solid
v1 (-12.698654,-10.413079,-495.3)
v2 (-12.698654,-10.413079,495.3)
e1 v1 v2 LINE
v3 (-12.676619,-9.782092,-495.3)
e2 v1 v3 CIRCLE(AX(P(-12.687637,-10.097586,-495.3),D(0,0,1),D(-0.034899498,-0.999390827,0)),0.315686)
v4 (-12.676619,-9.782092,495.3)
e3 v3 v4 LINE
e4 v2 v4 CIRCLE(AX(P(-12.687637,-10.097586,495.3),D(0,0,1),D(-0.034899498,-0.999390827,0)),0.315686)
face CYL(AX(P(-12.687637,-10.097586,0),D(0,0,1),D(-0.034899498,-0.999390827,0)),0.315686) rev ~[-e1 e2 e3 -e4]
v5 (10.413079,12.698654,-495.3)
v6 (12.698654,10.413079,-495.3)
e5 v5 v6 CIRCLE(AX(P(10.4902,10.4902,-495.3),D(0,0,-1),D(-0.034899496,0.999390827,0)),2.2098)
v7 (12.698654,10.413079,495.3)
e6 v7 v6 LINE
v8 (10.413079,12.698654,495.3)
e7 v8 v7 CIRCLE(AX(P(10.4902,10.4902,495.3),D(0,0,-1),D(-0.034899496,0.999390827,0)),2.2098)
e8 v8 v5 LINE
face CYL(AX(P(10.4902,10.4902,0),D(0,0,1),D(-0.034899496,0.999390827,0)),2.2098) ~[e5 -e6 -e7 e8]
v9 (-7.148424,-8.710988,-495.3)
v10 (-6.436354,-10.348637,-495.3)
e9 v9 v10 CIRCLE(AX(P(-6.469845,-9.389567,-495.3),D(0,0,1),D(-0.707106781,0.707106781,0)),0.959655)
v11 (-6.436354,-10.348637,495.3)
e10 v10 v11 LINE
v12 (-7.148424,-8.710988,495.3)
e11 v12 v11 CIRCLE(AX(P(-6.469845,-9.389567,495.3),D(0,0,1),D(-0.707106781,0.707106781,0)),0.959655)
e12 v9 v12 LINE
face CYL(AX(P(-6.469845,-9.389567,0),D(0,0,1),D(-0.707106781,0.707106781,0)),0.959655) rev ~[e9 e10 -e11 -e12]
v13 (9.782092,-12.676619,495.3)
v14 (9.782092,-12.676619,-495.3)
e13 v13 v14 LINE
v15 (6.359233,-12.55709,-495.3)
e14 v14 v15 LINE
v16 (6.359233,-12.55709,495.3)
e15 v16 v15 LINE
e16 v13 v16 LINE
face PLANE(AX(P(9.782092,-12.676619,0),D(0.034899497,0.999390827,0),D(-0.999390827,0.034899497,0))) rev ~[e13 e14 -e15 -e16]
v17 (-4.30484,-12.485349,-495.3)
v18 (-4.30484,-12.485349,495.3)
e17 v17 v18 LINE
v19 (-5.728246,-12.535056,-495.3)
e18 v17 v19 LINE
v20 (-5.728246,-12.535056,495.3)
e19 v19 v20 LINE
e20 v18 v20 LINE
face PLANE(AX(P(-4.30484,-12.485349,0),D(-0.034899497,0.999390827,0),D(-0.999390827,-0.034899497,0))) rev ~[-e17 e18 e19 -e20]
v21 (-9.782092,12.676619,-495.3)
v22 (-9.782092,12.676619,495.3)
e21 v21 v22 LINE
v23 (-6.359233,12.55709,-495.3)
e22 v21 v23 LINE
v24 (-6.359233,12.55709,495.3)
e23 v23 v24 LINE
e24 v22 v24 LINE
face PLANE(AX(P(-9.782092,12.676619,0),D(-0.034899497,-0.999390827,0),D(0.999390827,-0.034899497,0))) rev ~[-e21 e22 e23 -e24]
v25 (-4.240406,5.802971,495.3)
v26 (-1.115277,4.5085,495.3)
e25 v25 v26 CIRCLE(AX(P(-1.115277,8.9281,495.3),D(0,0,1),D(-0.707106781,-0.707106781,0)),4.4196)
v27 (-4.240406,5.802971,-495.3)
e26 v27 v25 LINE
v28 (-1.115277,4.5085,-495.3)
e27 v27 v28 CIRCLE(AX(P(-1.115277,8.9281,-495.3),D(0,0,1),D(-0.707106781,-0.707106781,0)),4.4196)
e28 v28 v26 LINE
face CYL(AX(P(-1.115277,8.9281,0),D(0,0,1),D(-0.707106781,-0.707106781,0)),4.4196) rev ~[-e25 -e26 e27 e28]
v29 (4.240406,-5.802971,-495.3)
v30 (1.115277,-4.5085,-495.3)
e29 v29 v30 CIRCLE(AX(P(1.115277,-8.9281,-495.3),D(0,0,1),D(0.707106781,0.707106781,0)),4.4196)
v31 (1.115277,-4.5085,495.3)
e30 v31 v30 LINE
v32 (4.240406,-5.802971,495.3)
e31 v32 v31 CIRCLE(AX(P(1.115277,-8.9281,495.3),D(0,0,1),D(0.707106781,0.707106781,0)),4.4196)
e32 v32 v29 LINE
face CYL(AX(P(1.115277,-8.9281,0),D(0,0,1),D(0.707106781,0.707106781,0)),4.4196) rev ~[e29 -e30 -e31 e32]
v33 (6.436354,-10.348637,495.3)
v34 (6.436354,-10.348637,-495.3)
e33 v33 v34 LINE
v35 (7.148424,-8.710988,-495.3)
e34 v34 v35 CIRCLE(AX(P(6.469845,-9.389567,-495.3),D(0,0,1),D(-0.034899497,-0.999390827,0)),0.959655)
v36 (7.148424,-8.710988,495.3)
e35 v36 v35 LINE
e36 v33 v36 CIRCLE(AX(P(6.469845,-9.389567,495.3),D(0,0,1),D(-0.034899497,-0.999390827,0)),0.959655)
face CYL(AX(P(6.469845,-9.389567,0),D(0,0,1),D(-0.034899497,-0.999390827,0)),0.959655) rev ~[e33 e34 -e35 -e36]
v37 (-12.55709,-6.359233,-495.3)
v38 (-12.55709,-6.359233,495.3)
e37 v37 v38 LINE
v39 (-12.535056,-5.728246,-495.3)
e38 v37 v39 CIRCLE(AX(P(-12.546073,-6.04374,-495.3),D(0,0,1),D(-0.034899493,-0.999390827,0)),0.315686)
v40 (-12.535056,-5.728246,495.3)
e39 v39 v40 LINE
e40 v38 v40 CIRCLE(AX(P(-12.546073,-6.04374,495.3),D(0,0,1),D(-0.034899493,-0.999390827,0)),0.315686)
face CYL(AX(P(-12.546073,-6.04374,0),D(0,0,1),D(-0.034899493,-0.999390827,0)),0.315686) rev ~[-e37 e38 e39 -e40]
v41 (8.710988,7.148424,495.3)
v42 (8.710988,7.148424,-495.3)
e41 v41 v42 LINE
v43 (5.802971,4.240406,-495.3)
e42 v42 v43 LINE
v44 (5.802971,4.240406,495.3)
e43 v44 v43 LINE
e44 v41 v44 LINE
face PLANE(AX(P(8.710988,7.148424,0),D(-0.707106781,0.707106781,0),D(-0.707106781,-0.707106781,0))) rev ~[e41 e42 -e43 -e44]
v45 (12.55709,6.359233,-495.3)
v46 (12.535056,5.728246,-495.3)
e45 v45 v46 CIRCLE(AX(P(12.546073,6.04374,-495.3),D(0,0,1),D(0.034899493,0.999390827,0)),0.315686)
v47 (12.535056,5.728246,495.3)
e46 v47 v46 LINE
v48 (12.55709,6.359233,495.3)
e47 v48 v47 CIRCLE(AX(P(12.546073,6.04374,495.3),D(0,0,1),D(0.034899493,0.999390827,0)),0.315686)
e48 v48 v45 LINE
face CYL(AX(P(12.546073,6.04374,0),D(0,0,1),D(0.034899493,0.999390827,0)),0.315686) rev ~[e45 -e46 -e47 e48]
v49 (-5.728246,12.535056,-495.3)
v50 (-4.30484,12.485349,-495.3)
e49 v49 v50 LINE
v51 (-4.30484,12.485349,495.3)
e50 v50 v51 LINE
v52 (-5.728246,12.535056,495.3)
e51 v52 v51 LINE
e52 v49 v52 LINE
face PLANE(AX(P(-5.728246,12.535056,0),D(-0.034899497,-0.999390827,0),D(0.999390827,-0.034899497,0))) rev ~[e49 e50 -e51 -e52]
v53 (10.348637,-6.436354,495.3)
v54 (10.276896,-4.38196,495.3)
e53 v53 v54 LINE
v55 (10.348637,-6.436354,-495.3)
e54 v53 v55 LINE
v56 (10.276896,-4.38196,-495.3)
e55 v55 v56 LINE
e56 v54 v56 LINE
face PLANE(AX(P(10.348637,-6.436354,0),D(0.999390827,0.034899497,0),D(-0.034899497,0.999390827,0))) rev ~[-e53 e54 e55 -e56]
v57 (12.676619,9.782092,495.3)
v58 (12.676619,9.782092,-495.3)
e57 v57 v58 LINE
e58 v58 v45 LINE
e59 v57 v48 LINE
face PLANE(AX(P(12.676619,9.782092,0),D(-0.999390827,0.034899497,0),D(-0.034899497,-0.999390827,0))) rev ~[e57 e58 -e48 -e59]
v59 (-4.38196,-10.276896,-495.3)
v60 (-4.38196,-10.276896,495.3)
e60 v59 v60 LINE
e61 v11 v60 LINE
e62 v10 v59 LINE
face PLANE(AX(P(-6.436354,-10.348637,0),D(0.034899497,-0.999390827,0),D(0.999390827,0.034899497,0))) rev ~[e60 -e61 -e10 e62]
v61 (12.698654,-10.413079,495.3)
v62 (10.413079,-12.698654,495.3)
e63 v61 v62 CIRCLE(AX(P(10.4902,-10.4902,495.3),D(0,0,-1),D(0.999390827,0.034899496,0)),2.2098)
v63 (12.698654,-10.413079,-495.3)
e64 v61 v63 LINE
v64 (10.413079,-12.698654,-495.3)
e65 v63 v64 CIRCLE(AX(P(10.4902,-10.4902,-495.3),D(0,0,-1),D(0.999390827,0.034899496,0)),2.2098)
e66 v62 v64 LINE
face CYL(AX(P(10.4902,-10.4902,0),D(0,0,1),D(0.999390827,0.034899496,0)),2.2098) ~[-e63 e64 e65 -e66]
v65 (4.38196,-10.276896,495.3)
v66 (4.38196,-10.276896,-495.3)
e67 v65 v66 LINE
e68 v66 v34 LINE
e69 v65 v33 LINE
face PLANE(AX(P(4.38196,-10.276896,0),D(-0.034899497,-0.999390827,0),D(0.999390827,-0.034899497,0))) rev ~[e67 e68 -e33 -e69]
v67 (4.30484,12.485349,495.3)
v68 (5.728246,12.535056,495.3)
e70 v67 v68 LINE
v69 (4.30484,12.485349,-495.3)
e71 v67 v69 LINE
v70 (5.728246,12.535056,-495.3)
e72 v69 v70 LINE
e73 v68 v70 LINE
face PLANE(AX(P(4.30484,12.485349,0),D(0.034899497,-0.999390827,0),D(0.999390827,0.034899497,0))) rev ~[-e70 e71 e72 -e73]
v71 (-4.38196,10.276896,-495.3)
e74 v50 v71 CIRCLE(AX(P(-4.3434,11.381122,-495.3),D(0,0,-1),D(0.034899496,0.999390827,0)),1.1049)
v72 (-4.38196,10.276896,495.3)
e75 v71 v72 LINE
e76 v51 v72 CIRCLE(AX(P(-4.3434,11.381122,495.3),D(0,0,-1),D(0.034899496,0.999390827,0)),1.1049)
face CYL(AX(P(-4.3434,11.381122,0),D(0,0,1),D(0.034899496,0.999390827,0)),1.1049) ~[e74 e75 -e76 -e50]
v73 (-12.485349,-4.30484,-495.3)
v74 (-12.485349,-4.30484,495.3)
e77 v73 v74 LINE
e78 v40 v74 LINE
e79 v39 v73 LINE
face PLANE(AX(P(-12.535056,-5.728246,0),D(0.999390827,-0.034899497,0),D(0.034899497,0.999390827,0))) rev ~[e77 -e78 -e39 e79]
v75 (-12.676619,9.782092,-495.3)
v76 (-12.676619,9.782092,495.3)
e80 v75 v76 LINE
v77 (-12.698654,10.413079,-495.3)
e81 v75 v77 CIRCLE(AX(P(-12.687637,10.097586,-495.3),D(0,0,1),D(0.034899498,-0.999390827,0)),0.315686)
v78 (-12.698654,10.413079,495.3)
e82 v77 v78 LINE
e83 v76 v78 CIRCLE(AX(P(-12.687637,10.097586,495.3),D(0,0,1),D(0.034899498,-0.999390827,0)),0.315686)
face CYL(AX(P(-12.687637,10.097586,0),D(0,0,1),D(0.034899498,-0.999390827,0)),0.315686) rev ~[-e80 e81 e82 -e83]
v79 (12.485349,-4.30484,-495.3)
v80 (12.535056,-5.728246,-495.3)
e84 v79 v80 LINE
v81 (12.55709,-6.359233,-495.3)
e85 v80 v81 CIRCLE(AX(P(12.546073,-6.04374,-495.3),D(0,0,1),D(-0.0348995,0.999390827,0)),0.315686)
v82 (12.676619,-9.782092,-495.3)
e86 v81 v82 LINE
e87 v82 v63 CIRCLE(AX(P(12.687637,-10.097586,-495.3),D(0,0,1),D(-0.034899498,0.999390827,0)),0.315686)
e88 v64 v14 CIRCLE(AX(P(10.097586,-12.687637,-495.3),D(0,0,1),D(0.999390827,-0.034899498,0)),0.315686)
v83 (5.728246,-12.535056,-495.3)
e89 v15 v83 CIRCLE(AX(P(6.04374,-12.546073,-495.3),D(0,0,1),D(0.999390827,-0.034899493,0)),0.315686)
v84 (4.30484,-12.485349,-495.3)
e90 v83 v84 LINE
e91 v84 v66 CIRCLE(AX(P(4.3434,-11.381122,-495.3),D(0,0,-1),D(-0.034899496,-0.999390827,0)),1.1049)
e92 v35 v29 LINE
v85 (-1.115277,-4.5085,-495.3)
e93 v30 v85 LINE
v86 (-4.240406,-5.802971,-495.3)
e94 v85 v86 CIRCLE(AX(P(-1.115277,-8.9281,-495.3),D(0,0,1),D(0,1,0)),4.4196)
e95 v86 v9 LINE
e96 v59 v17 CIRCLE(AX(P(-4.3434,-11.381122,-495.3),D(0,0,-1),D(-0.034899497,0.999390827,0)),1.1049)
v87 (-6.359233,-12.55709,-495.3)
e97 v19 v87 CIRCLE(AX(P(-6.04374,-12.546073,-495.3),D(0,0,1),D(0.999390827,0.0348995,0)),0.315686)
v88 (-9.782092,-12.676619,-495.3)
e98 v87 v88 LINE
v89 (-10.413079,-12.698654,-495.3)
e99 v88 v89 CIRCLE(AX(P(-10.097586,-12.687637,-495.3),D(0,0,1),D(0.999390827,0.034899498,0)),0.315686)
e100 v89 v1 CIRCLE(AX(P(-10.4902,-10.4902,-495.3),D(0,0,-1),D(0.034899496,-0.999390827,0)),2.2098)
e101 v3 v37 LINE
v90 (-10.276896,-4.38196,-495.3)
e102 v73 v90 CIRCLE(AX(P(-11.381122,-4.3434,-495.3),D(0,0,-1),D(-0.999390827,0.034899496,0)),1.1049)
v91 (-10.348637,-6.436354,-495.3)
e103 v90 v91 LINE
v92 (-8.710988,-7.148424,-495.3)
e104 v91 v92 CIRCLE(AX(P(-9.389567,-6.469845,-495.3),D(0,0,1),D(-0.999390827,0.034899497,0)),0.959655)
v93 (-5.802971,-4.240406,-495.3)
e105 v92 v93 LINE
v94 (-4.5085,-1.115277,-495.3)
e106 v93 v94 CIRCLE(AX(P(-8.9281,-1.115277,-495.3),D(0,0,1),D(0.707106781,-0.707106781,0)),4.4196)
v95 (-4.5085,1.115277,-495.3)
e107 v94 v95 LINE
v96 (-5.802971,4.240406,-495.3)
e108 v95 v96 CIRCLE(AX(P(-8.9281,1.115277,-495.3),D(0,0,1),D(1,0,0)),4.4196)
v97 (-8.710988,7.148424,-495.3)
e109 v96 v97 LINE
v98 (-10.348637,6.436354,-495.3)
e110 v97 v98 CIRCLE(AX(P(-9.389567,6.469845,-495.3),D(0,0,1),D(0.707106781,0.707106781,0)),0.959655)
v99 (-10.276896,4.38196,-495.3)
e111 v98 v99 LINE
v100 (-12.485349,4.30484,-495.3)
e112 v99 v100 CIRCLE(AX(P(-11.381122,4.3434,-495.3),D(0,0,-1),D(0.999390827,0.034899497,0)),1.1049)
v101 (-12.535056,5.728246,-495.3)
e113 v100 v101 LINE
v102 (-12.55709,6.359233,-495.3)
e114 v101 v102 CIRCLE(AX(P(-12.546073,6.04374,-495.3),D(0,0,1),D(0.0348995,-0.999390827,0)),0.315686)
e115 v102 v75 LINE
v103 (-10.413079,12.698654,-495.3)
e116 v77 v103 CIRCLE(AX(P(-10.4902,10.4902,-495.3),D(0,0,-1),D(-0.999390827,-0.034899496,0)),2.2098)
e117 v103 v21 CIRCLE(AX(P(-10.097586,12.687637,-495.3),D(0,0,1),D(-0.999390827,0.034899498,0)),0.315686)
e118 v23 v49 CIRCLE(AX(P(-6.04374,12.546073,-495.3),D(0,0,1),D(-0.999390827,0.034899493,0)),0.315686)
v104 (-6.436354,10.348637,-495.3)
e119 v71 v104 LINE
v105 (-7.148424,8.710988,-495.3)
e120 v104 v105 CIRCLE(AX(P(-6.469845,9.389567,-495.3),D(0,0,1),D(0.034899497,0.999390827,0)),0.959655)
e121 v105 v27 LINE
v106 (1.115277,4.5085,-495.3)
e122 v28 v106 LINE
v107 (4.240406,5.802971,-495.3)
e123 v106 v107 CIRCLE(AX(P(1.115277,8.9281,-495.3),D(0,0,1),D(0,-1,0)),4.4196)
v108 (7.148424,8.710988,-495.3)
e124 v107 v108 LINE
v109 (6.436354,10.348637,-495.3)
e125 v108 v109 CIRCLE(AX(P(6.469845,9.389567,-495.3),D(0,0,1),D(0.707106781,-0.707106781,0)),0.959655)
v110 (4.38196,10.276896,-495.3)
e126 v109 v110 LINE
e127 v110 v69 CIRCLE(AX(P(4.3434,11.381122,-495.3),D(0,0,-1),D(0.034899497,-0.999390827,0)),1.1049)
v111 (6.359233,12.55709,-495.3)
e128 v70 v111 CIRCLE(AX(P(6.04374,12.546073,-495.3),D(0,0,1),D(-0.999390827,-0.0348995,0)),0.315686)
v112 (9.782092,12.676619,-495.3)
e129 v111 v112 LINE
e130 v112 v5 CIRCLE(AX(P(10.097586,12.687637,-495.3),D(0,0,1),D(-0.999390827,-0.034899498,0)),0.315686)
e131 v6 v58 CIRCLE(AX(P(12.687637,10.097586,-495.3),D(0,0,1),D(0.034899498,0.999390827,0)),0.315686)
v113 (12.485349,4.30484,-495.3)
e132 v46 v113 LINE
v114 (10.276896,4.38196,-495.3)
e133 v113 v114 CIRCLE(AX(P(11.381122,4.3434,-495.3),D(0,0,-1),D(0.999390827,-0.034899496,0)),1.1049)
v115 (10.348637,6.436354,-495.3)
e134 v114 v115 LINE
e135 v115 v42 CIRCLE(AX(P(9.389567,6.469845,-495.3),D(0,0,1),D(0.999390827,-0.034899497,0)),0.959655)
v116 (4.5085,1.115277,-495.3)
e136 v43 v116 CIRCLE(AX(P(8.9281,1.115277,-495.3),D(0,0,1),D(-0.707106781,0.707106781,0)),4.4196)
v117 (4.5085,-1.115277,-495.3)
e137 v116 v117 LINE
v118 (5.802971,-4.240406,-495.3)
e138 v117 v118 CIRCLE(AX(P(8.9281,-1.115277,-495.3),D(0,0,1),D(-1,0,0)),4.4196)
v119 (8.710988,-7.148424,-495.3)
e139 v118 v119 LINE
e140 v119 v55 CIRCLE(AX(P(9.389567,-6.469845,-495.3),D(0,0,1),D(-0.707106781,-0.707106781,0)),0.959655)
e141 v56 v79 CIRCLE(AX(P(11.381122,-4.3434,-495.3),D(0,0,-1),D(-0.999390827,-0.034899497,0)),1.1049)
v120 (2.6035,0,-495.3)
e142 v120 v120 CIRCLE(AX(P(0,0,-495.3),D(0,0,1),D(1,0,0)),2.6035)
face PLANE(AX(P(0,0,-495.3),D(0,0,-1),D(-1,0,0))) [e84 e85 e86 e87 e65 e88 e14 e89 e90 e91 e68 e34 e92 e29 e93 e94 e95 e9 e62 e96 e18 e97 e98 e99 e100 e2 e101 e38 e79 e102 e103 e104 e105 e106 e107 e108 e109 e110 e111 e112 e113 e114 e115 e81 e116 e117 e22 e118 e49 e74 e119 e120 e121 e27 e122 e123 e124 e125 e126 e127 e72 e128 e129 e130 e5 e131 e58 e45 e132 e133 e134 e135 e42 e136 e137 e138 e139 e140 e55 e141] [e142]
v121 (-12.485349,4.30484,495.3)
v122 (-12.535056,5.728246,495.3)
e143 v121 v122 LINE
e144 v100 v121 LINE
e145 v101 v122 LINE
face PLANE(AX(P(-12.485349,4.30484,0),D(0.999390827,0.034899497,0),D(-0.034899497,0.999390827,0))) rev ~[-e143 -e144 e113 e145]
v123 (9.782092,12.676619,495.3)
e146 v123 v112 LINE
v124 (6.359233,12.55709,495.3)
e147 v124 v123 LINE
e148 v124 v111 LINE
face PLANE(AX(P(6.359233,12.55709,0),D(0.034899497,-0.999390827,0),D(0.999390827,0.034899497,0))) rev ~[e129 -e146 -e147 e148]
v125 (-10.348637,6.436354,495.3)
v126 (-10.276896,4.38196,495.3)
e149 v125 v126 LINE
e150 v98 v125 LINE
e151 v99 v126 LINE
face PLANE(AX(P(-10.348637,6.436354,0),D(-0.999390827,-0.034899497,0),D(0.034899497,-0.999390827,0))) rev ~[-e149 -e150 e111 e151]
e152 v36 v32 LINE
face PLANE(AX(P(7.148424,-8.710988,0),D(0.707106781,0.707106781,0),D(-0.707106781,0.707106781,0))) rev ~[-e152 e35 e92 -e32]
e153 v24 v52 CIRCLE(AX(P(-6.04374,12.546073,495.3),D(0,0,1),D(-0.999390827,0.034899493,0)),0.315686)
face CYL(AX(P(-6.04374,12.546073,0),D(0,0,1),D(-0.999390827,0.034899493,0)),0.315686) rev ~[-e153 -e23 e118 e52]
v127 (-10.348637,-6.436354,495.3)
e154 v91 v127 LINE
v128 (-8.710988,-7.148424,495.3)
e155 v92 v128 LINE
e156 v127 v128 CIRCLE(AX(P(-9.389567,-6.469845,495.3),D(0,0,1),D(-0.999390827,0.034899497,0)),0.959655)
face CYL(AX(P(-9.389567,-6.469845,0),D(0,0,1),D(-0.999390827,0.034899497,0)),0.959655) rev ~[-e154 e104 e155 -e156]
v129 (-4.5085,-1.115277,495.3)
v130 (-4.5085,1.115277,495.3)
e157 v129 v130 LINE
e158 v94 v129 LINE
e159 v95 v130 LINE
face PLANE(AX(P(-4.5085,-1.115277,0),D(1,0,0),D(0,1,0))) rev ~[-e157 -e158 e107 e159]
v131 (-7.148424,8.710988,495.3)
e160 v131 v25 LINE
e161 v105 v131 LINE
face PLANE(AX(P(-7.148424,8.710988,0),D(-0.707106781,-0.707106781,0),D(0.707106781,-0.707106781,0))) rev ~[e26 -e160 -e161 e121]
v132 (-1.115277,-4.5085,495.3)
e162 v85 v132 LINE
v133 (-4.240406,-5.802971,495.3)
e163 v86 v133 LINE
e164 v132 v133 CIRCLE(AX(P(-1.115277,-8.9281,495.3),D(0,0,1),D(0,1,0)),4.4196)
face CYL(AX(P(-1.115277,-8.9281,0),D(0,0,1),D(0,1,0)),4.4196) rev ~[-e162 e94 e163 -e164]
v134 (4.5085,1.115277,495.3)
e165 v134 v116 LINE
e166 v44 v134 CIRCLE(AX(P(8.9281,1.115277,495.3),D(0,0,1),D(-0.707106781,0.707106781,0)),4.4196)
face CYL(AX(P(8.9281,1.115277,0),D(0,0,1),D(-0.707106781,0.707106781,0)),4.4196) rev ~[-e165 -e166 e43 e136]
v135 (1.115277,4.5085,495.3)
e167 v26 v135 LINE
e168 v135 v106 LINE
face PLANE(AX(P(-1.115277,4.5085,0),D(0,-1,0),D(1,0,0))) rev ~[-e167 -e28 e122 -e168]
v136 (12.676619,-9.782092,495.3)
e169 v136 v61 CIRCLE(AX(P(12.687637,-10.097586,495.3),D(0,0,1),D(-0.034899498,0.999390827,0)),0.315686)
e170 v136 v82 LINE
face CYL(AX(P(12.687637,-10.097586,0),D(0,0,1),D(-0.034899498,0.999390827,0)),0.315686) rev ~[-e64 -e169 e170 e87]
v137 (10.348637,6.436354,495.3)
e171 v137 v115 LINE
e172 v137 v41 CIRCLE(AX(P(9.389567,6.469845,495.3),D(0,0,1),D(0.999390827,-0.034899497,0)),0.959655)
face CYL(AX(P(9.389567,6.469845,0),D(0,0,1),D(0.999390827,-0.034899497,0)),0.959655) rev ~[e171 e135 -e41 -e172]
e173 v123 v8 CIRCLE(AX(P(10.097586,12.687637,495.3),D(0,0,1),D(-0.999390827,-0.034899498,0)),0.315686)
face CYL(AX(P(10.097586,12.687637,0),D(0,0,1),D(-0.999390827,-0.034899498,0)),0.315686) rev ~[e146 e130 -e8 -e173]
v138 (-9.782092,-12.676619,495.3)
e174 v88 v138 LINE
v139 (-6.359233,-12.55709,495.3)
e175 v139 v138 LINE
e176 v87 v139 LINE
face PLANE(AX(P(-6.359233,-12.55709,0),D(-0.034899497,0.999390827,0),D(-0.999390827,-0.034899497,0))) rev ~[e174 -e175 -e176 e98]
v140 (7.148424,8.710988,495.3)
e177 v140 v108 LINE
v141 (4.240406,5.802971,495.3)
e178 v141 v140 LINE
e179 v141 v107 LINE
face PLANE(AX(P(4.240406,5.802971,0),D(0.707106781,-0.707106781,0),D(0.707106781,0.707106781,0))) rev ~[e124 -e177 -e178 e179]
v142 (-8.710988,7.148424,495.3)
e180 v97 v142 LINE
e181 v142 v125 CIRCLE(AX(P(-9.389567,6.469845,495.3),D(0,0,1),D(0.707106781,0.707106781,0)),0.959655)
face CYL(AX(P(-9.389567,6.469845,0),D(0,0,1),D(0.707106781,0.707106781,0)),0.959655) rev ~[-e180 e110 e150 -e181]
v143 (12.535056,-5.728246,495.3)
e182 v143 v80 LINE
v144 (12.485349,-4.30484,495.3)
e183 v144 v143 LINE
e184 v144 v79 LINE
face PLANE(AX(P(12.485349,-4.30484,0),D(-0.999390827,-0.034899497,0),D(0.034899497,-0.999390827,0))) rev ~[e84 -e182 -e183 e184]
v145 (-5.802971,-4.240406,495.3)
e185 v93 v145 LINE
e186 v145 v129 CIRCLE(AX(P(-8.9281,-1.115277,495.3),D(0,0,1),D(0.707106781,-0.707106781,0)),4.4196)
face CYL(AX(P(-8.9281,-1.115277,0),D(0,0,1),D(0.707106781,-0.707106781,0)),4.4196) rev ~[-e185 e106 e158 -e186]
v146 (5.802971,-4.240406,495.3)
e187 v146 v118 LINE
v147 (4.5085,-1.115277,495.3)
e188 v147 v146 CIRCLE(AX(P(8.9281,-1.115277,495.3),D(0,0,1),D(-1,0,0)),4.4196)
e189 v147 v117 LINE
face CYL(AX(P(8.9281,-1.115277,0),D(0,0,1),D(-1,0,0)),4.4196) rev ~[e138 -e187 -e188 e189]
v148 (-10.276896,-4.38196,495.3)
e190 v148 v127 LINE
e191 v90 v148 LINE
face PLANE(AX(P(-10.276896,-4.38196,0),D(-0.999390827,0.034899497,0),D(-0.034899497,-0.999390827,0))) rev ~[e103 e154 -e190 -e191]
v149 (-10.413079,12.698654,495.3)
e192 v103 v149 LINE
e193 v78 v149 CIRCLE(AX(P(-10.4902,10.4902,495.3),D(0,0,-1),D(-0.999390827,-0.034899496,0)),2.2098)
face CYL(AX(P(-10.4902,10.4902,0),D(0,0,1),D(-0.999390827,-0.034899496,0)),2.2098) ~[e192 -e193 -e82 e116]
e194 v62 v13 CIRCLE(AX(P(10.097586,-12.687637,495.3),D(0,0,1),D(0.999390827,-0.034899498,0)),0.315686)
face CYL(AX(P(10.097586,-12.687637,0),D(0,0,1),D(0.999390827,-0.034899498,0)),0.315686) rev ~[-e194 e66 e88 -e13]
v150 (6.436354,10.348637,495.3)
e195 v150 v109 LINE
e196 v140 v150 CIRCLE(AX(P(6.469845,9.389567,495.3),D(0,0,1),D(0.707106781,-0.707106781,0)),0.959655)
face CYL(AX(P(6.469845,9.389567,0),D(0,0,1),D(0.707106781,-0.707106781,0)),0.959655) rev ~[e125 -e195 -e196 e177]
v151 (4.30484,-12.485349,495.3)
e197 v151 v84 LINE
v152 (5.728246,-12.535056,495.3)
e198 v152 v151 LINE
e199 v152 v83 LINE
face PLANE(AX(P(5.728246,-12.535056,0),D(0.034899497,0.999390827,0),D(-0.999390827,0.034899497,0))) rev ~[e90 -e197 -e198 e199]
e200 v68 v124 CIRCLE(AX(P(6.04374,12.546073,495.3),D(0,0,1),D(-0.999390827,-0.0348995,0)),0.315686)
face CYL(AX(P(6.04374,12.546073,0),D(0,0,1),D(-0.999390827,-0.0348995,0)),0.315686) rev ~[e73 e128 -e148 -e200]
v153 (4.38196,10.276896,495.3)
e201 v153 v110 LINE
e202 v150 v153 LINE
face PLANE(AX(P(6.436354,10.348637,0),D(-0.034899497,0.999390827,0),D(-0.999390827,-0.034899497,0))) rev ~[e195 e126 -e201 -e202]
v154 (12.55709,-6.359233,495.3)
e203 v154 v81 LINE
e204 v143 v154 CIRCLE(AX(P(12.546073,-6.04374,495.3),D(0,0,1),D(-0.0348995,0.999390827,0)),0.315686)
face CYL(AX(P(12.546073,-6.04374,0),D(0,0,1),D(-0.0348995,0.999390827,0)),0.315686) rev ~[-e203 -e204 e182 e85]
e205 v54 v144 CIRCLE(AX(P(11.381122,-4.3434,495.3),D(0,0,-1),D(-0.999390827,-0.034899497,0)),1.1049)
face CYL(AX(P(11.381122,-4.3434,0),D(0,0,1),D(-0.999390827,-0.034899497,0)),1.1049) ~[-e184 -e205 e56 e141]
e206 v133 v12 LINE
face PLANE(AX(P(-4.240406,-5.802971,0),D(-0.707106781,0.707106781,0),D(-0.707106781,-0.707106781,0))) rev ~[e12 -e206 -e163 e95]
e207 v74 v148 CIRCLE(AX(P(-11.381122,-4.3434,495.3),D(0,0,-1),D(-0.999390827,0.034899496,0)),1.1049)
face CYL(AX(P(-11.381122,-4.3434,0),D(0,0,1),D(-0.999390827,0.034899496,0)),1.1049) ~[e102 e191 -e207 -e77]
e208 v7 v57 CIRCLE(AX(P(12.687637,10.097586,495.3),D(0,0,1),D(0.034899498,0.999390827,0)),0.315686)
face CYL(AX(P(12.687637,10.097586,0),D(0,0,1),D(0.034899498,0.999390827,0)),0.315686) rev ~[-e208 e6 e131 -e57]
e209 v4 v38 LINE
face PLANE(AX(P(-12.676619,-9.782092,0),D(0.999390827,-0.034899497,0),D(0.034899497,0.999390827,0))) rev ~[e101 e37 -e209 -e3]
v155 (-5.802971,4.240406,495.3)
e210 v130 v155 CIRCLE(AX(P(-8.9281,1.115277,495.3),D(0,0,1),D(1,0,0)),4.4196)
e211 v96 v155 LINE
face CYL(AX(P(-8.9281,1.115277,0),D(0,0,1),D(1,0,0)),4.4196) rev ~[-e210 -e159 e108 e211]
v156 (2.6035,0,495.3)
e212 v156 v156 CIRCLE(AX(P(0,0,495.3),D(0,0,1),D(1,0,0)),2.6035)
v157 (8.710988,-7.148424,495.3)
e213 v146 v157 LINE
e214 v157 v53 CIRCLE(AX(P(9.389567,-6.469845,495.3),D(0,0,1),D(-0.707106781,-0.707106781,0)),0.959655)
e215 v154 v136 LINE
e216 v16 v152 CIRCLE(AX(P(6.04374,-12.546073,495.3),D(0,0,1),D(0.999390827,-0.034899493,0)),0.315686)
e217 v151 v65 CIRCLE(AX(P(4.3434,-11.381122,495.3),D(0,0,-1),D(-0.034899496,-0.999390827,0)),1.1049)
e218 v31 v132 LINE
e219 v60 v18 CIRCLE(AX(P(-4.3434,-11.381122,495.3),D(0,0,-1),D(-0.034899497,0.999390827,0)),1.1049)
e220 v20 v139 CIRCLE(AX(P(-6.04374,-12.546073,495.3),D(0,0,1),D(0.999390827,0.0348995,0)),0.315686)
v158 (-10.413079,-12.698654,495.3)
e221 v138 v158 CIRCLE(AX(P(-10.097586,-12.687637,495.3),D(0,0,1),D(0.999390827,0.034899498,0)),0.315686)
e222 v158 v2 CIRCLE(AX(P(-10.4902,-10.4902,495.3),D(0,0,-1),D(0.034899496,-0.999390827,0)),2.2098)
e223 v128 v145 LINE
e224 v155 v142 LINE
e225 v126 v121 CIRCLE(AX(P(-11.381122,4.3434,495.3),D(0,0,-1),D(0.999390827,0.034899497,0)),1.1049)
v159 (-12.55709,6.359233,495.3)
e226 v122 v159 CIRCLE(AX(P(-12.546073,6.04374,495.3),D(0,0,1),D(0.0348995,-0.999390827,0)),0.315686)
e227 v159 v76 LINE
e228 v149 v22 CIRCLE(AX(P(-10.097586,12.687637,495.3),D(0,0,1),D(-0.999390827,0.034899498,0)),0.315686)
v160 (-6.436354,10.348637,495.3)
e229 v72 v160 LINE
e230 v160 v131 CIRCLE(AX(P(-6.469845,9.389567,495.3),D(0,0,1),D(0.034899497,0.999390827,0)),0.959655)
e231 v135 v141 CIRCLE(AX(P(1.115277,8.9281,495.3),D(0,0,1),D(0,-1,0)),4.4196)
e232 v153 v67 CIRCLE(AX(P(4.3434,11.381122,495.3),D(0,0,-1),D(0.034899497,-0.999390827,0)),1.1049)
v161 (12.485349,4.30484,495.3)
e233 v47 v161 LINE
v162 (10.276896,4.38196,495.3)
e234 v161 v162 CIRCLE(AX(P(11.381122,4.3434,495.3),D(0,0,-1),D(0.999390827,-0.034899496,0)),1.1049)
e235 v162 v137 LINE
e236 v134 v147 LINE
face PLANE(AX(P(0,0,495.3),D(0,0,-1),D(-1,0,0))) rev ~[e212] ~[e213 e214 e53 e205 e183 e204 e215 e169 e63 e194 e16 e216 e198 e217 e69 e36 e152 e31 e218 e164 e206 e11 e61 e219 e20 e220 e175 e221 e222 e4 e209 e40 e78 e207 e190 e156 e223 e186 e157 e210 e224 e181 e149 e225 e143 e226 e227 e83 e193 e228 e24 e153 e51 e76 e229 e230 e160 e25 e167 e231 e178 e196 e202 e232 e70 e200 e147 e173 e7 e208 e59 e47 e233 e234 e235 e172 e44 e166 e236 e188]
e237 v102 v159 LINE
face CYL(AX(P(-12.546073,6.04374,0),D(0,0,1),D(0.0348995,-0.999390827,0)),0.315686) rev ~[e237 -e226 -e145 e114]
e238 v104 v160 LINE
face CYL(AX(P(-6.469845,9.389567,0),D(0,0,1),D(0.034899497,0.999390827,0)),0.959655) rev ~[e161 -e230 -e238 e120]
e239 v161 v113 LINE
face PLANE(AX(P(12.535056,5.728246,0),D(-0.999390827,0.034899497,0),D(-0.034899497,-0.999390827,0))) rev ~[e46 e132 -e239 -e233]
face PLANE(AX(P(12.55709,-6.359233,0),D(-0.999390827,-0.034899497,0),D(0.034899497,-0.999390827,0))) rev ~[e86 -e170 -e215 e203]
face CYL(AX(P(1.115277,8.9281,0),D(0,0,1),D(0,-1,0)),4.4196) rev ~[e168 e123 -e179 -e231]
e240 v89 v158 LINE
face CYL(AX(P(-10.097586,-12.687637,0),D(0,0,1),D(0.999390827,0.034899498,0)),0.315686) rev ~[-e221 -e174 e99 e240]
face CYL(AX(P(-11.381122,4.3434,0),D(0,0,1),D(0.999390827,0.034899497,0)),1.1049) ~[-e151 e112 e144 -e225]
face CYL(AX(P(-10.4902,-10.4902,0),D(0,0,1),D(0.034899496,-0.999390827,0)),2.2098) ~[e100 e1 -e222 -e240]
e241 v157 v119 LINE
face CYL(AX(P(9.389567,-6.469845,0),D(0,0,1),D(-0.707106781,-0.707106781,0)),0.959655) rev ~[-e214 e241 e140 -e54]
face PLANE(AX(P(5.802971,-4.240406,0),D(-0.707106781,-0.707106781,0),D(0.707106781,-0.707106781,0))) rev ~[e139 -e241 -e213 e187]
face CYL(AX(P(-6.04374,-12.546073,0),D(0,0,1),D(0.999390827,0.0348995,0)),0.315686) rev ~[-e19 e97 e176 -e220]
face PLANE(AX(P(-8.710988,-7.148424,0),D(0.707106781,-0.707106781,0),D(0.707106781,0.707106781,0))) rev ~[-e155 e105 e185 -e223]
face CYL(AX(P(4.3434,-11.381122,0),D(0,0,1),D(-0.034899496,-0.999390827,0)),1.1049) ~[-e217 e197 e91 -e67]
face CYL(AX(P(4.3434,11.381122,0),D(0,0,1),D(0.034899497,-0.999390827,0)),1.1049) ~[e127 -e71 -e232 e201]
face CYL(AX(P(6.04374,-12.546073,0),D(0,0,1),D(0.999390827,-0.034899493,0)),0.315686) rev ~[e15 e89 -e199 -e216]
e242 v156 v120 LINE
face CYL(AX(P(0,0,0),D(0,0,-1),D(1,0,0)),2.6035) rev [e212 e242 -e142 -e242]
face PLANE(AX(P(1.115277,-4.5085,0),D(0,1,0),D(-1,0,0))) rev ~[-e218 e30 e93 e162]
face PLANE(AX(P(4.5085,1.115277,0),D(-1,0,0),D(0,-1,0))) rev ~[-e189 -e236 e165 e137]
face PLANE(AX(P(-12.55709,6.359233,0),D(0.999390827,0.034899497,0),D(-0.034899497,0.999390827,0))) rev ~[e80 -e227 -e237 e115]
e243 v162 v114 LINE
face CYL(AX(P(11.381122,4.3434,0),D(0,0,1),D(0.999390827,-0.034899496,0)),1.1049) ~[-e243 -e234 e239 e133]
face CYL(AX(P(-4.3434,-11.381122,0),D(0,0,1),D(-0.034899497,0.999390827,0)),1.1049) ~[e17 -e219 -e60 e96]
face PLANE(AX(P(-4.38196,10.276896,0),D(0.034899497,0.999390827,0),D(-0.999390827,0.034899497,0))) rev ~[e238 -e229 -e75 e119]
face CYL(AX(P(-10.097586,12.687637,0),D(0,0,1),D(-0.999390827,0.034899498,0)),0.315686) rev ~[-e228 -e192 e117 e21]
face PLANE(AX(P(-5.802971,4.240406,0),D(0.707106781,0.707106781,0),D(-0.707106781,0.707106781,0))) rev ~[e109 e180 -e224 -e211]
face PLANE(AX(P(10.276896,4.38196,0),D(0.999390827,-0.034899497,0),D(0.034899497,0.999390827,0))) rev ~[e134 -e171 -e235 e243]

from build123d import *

# Parameters (mm, degrees)
SKETCH3_R      = 2.6035
EXTRUDE1_DEPTH = 495.3


with BuildPart() as part:
    # Sketch3 → Extrude1 (new body, symmetric)
    with BuildSketch(Plane.XY):
        with BuildLine():
            Line((-1.115277175, 4.5085), (1.115277175, 4.5085))
            ThreePointArc((1.115277175, 4.5085), (2.806584872, 4.844922018), (4.240406305, 5.80297087))
            Line((4.240406305, 5.80297087), (7.148423664, 8.710988229))
            ThreePointArc((7.148423664, 8.710988229), (7.349906316, 9.772227925), (6.436353897, 10.348636575))
            Line((6.436353897, 10.348636575), (4.381960454, 10.276895575))
            ThreePointArc((4.381960454, 10.276895575), (3.239173075, 11.342562046), (4.304839546, 12.485349424))
            Line((4.304839546, 12.485349424), (5.728246175, 12.535055879))
            ThreePointArc((5.728246175, 12.535055879), (6.054756855, 12.230579745), (6.35923299, 12.557090424))
            Line((6.35923299, 12.557090424), (9.782092278, 12.676619304))
            ThreePointArc((9.782092278, 12.676619304), (10.108602958, 12.37214317), (10.413079092, 12.69865385))
            ThreePointArc((10.413079092, 12.69865385), (12.052764565, 12.052764565), (12.69865385, 10.413079092))
            ThreePointArc((12.69865385, 10.413079092), (12.37214317, 10.108602958), (12.676619304, 9.782092278))
            Line((12.676619304, 9.782092278), (12.557090424, 6.35923299))
            ThreePointArc((12.557090424, 6.35923299), (12.230579745, 6.054756855), (12.535055879, 5.728246175))
            Line((12.535055879, 5.728246175), (12.485349424, 4.304839546))
            ThreePointArc((12.485349424, 4.304839546), (11.342562046, 3.239173075), (10.276895575, 4.381960454))
            Line((10.276895575, 4.381960454), (10.348636575, 6.436353897))
            ThreePointArc((10.348636575, 6.436353897), (9.772227925, 7.349906316), (8.710988229, 7.148423664))
            Line((8.710988229, 7.148423664), (5.80297087, 4.240406305))
            ThreePointArc((5.80297087, 4.240406305), (4.844922018, 2.806584872), (4.5085, 1.115277175))
            Line((4.5085, 1.115277175), (4.5085, -1.115277175))
            ThreePointArc((4.5085, -1.115277175), (4.844922018, -2.806584872), (5.80297087, -4.240406305))
            Line((5.80297087, -4.240406305), (8.710988229, -7.148423664))
            ThreePointArc((8.710988229, -7.148423664), (9.772227925, -7.349906316), (10.348636575, -6.436353897))
            Line((10.348636575, -6.436353897), (10.276895575, -4.381960454))
            ThreePointArc((10.276895575, -4.381960454), (11.342562046, -3.239173075), (12.485349424, -4.304839546))
            Line((12.485349424, -4.304839546), (12.535055879, -5.728246175))
            ThreePointArc((12.535055879, -5.728246175), (12.230579745, -6.054756855), (12.557090424, -6.35923299))
            Line((12.557090424, -6.35923299), (12.676619304, -9.782092278))
            ThreePointArc((12.676619304, -9.782092278), (12.37214317, -10.108602958), (12.69865385, -10.413079092))
            ThreePointArc((12.69865385, -10.413079092), (12.052764565, -12.052764565), (10.413079092, -12.69865385))
            ThreePointArc((10.413079092, -12.69865385), (10.108602958, -12.37214317), (9.782092278, -12.676619304))
            Line((9.782092278, -12.676619304), (6.35923299, -12.557090424))
            ThreePointArc((6.35923299, -12.557090424), (6.054756855, -12.230579745), (5.728246175, -12.535055879))
            Line((5.728246175, -12.535055879), (4.304839546, -12.485349424))
            ThreePointArc((4.304839546, -12.485349424), (3.239173075, -11.342562046), (4.381960454, -10.276895575))
            Line((4.381960454, -10.276895575), (6.436353897, -10.348636575))
            ThreePointArc((6.436353897, -10.348636575), (7.349906316, -9.772227925), (7.148423664, -8.710988229))
            Line((7.148423664, -8.710988229), (4.240406305, -5.80297087))
            ThreePointArc((4.240406305, -5.80297087), (2.806584872, -4.844922018), (1.115277175, -4.5085))
            Line((1.115277175, -4.5085), (-1.115277175, -4.5085))
            ThreePointArc((-1.115277175, -4.5085), (-2.806584872, -4.844922018), (-4.240406305, -5.80297087))
            Line((-4.240406305, -5.80297087), (-7.148423664, -8.710988229))
            ThreePointArc((-7.148423664, -8.710988229), (-7.349906316, -9.772227925), (-6.436353897, -10.348636575))
            Line((-6.436353897, -10.348636575), (-4.381960454, -10.276895575))
            ThreePointArc((-4.381960454, -10.276895575), (-3.239173075, -11.342562046), (-4.304839546, -12.485349424))
            Line((-4.304839546, -12.485349424), (-5.728246175, -12.535055879))
            ThreePointArc((-5.728246175, -12.535055879), (-6.054756855, -12.230579745), (-6.35923299, -12.557090424))
            Line((-6.35923299, -12.557090424), (-9.782092278, -12.676619304))
            ThreePointArc((-9.782092278, -12.676619304), (-10.108602958, -12.37214317), (-10.413079092, -12.69865385))
            ThreePointArc((-10.413079092, -12.69865385), (-12.052764565, -12.052764565), (-12.69865385, -10.413079092))
            ThreePointArc((-12.69865385, -10.413079092), (-12.37214317, -10.108602958), (-12.676619304, -9.782092278))
            Line((-12.676619304, -9.782092278), (-12.557090424, -6.35923299))
            ThreePointArc((-12.557090424, -6.35923299), (-12.230579745, -6.054756855), (-12.535055879, -5.728246175))
            Line((-12.535055879, -5.728246175), (-12.485349424, -4.304839546))
            ThreePointArc((-12.485349424, -4.304839546), (-11.342562046, -3.239173075), (-10.276895575, -4.381960454))
            Line((-10.276895575, -4.381960454), (-10.348636575, -6.436353897))
            ThreePointArc((-10.348636575, -6.436353897), (-9.772227925, -7.349906316), (-8.710988229, -7.148423664))
            Line((-8.710988229, -7.148423664), (-5.80297087, -4.240406305))
            ThreePointArc((-5.80297087, -4.240406305), (-4.844922018, -2.806584872), (-4.5085, -1.115277175))
            Line((-4.5085, -1.115277175), (-4.5085, 1.115277175))
            ThreePointArc((-4.5085, 1.115277175), (-4.844922018, 2.806584872), (-5.80297087, 4.240406305))
            Line((-5.80297087, 4.240406305), (-8.710988229, 7.148423664))
            ThreePointArc((-8.710988229, 7.148423664), (-9.772227925, 7.349906316), (-10.348636575, 6.436353897))
            Line((-10.348636575, 6.436353897), (-10.276895575, 4.381960454))
            ThreePointArc((-10.276895575, 4.381960454), (-11.342562046, 3.239173075), (-12.485349424, 4.304839546))
            Line((-12.485349424, 4.304839546), (-12.535055879, 5.728246175))
            ThreePointArc((-12.535055879, 5.728246175), (-12.230579745, 6.054756855), (-12.557090424, 6.35923299))
            Line((-12.557090424, 6.35923299), (-12.676619304, 9.782092278))
            ThreePointArc((-12.676619304, 9.782092278), (-12.37214317, 10.108602958), (-12.69865385, 10.413079092))
            ThreePointArc((-12.69865385, 10.413079092), (-12.052764565, 12.052764565), (-10.413079092, 12.69865385))
            ThreePointArc((-10.413079092, 12.69865385), (-10.108602958, 12.37214317), (-9.782092278, 12.676619304))
            Line((-9.782092278, 12.676619304), (-6.35923299, 12.557090424))
            ThreePointArc((-6.35923299, 12.557090424), (-6.054756855, 12.230579745), (-5.728246175, 12.535055879))
            Line((-5.728246175, 12.535055879), (-4.304839546, 12.485349424))
            ThreePointArc((-4.304839546, 12.485349424), (-3.239173075, 11.342562046), (-4.381960454, 10.276895575))
            Line((-4.381960454, 10.276895575), (-6.436353897, 10.348636575))
            ThreePointArc((-6.436353897, 10.348636575), (-7.349906316, 9.772227925), (-7.148423664, 8.710988229))
            Line((-7.148423664, 8.710988229), (-4.240406305, 5.80297087))
            ThreePointArc((-4.240406305, 5.80297087), (-2.806584872, 4.844922018), (-1.115277175, 4.5085))
        make_face()
        Circle(SKETCH3_R, mode=Mode.SUBTRACT)
    extrude(amount=EXTRUDE1_DEPTH, both=True)


solid = part.part
